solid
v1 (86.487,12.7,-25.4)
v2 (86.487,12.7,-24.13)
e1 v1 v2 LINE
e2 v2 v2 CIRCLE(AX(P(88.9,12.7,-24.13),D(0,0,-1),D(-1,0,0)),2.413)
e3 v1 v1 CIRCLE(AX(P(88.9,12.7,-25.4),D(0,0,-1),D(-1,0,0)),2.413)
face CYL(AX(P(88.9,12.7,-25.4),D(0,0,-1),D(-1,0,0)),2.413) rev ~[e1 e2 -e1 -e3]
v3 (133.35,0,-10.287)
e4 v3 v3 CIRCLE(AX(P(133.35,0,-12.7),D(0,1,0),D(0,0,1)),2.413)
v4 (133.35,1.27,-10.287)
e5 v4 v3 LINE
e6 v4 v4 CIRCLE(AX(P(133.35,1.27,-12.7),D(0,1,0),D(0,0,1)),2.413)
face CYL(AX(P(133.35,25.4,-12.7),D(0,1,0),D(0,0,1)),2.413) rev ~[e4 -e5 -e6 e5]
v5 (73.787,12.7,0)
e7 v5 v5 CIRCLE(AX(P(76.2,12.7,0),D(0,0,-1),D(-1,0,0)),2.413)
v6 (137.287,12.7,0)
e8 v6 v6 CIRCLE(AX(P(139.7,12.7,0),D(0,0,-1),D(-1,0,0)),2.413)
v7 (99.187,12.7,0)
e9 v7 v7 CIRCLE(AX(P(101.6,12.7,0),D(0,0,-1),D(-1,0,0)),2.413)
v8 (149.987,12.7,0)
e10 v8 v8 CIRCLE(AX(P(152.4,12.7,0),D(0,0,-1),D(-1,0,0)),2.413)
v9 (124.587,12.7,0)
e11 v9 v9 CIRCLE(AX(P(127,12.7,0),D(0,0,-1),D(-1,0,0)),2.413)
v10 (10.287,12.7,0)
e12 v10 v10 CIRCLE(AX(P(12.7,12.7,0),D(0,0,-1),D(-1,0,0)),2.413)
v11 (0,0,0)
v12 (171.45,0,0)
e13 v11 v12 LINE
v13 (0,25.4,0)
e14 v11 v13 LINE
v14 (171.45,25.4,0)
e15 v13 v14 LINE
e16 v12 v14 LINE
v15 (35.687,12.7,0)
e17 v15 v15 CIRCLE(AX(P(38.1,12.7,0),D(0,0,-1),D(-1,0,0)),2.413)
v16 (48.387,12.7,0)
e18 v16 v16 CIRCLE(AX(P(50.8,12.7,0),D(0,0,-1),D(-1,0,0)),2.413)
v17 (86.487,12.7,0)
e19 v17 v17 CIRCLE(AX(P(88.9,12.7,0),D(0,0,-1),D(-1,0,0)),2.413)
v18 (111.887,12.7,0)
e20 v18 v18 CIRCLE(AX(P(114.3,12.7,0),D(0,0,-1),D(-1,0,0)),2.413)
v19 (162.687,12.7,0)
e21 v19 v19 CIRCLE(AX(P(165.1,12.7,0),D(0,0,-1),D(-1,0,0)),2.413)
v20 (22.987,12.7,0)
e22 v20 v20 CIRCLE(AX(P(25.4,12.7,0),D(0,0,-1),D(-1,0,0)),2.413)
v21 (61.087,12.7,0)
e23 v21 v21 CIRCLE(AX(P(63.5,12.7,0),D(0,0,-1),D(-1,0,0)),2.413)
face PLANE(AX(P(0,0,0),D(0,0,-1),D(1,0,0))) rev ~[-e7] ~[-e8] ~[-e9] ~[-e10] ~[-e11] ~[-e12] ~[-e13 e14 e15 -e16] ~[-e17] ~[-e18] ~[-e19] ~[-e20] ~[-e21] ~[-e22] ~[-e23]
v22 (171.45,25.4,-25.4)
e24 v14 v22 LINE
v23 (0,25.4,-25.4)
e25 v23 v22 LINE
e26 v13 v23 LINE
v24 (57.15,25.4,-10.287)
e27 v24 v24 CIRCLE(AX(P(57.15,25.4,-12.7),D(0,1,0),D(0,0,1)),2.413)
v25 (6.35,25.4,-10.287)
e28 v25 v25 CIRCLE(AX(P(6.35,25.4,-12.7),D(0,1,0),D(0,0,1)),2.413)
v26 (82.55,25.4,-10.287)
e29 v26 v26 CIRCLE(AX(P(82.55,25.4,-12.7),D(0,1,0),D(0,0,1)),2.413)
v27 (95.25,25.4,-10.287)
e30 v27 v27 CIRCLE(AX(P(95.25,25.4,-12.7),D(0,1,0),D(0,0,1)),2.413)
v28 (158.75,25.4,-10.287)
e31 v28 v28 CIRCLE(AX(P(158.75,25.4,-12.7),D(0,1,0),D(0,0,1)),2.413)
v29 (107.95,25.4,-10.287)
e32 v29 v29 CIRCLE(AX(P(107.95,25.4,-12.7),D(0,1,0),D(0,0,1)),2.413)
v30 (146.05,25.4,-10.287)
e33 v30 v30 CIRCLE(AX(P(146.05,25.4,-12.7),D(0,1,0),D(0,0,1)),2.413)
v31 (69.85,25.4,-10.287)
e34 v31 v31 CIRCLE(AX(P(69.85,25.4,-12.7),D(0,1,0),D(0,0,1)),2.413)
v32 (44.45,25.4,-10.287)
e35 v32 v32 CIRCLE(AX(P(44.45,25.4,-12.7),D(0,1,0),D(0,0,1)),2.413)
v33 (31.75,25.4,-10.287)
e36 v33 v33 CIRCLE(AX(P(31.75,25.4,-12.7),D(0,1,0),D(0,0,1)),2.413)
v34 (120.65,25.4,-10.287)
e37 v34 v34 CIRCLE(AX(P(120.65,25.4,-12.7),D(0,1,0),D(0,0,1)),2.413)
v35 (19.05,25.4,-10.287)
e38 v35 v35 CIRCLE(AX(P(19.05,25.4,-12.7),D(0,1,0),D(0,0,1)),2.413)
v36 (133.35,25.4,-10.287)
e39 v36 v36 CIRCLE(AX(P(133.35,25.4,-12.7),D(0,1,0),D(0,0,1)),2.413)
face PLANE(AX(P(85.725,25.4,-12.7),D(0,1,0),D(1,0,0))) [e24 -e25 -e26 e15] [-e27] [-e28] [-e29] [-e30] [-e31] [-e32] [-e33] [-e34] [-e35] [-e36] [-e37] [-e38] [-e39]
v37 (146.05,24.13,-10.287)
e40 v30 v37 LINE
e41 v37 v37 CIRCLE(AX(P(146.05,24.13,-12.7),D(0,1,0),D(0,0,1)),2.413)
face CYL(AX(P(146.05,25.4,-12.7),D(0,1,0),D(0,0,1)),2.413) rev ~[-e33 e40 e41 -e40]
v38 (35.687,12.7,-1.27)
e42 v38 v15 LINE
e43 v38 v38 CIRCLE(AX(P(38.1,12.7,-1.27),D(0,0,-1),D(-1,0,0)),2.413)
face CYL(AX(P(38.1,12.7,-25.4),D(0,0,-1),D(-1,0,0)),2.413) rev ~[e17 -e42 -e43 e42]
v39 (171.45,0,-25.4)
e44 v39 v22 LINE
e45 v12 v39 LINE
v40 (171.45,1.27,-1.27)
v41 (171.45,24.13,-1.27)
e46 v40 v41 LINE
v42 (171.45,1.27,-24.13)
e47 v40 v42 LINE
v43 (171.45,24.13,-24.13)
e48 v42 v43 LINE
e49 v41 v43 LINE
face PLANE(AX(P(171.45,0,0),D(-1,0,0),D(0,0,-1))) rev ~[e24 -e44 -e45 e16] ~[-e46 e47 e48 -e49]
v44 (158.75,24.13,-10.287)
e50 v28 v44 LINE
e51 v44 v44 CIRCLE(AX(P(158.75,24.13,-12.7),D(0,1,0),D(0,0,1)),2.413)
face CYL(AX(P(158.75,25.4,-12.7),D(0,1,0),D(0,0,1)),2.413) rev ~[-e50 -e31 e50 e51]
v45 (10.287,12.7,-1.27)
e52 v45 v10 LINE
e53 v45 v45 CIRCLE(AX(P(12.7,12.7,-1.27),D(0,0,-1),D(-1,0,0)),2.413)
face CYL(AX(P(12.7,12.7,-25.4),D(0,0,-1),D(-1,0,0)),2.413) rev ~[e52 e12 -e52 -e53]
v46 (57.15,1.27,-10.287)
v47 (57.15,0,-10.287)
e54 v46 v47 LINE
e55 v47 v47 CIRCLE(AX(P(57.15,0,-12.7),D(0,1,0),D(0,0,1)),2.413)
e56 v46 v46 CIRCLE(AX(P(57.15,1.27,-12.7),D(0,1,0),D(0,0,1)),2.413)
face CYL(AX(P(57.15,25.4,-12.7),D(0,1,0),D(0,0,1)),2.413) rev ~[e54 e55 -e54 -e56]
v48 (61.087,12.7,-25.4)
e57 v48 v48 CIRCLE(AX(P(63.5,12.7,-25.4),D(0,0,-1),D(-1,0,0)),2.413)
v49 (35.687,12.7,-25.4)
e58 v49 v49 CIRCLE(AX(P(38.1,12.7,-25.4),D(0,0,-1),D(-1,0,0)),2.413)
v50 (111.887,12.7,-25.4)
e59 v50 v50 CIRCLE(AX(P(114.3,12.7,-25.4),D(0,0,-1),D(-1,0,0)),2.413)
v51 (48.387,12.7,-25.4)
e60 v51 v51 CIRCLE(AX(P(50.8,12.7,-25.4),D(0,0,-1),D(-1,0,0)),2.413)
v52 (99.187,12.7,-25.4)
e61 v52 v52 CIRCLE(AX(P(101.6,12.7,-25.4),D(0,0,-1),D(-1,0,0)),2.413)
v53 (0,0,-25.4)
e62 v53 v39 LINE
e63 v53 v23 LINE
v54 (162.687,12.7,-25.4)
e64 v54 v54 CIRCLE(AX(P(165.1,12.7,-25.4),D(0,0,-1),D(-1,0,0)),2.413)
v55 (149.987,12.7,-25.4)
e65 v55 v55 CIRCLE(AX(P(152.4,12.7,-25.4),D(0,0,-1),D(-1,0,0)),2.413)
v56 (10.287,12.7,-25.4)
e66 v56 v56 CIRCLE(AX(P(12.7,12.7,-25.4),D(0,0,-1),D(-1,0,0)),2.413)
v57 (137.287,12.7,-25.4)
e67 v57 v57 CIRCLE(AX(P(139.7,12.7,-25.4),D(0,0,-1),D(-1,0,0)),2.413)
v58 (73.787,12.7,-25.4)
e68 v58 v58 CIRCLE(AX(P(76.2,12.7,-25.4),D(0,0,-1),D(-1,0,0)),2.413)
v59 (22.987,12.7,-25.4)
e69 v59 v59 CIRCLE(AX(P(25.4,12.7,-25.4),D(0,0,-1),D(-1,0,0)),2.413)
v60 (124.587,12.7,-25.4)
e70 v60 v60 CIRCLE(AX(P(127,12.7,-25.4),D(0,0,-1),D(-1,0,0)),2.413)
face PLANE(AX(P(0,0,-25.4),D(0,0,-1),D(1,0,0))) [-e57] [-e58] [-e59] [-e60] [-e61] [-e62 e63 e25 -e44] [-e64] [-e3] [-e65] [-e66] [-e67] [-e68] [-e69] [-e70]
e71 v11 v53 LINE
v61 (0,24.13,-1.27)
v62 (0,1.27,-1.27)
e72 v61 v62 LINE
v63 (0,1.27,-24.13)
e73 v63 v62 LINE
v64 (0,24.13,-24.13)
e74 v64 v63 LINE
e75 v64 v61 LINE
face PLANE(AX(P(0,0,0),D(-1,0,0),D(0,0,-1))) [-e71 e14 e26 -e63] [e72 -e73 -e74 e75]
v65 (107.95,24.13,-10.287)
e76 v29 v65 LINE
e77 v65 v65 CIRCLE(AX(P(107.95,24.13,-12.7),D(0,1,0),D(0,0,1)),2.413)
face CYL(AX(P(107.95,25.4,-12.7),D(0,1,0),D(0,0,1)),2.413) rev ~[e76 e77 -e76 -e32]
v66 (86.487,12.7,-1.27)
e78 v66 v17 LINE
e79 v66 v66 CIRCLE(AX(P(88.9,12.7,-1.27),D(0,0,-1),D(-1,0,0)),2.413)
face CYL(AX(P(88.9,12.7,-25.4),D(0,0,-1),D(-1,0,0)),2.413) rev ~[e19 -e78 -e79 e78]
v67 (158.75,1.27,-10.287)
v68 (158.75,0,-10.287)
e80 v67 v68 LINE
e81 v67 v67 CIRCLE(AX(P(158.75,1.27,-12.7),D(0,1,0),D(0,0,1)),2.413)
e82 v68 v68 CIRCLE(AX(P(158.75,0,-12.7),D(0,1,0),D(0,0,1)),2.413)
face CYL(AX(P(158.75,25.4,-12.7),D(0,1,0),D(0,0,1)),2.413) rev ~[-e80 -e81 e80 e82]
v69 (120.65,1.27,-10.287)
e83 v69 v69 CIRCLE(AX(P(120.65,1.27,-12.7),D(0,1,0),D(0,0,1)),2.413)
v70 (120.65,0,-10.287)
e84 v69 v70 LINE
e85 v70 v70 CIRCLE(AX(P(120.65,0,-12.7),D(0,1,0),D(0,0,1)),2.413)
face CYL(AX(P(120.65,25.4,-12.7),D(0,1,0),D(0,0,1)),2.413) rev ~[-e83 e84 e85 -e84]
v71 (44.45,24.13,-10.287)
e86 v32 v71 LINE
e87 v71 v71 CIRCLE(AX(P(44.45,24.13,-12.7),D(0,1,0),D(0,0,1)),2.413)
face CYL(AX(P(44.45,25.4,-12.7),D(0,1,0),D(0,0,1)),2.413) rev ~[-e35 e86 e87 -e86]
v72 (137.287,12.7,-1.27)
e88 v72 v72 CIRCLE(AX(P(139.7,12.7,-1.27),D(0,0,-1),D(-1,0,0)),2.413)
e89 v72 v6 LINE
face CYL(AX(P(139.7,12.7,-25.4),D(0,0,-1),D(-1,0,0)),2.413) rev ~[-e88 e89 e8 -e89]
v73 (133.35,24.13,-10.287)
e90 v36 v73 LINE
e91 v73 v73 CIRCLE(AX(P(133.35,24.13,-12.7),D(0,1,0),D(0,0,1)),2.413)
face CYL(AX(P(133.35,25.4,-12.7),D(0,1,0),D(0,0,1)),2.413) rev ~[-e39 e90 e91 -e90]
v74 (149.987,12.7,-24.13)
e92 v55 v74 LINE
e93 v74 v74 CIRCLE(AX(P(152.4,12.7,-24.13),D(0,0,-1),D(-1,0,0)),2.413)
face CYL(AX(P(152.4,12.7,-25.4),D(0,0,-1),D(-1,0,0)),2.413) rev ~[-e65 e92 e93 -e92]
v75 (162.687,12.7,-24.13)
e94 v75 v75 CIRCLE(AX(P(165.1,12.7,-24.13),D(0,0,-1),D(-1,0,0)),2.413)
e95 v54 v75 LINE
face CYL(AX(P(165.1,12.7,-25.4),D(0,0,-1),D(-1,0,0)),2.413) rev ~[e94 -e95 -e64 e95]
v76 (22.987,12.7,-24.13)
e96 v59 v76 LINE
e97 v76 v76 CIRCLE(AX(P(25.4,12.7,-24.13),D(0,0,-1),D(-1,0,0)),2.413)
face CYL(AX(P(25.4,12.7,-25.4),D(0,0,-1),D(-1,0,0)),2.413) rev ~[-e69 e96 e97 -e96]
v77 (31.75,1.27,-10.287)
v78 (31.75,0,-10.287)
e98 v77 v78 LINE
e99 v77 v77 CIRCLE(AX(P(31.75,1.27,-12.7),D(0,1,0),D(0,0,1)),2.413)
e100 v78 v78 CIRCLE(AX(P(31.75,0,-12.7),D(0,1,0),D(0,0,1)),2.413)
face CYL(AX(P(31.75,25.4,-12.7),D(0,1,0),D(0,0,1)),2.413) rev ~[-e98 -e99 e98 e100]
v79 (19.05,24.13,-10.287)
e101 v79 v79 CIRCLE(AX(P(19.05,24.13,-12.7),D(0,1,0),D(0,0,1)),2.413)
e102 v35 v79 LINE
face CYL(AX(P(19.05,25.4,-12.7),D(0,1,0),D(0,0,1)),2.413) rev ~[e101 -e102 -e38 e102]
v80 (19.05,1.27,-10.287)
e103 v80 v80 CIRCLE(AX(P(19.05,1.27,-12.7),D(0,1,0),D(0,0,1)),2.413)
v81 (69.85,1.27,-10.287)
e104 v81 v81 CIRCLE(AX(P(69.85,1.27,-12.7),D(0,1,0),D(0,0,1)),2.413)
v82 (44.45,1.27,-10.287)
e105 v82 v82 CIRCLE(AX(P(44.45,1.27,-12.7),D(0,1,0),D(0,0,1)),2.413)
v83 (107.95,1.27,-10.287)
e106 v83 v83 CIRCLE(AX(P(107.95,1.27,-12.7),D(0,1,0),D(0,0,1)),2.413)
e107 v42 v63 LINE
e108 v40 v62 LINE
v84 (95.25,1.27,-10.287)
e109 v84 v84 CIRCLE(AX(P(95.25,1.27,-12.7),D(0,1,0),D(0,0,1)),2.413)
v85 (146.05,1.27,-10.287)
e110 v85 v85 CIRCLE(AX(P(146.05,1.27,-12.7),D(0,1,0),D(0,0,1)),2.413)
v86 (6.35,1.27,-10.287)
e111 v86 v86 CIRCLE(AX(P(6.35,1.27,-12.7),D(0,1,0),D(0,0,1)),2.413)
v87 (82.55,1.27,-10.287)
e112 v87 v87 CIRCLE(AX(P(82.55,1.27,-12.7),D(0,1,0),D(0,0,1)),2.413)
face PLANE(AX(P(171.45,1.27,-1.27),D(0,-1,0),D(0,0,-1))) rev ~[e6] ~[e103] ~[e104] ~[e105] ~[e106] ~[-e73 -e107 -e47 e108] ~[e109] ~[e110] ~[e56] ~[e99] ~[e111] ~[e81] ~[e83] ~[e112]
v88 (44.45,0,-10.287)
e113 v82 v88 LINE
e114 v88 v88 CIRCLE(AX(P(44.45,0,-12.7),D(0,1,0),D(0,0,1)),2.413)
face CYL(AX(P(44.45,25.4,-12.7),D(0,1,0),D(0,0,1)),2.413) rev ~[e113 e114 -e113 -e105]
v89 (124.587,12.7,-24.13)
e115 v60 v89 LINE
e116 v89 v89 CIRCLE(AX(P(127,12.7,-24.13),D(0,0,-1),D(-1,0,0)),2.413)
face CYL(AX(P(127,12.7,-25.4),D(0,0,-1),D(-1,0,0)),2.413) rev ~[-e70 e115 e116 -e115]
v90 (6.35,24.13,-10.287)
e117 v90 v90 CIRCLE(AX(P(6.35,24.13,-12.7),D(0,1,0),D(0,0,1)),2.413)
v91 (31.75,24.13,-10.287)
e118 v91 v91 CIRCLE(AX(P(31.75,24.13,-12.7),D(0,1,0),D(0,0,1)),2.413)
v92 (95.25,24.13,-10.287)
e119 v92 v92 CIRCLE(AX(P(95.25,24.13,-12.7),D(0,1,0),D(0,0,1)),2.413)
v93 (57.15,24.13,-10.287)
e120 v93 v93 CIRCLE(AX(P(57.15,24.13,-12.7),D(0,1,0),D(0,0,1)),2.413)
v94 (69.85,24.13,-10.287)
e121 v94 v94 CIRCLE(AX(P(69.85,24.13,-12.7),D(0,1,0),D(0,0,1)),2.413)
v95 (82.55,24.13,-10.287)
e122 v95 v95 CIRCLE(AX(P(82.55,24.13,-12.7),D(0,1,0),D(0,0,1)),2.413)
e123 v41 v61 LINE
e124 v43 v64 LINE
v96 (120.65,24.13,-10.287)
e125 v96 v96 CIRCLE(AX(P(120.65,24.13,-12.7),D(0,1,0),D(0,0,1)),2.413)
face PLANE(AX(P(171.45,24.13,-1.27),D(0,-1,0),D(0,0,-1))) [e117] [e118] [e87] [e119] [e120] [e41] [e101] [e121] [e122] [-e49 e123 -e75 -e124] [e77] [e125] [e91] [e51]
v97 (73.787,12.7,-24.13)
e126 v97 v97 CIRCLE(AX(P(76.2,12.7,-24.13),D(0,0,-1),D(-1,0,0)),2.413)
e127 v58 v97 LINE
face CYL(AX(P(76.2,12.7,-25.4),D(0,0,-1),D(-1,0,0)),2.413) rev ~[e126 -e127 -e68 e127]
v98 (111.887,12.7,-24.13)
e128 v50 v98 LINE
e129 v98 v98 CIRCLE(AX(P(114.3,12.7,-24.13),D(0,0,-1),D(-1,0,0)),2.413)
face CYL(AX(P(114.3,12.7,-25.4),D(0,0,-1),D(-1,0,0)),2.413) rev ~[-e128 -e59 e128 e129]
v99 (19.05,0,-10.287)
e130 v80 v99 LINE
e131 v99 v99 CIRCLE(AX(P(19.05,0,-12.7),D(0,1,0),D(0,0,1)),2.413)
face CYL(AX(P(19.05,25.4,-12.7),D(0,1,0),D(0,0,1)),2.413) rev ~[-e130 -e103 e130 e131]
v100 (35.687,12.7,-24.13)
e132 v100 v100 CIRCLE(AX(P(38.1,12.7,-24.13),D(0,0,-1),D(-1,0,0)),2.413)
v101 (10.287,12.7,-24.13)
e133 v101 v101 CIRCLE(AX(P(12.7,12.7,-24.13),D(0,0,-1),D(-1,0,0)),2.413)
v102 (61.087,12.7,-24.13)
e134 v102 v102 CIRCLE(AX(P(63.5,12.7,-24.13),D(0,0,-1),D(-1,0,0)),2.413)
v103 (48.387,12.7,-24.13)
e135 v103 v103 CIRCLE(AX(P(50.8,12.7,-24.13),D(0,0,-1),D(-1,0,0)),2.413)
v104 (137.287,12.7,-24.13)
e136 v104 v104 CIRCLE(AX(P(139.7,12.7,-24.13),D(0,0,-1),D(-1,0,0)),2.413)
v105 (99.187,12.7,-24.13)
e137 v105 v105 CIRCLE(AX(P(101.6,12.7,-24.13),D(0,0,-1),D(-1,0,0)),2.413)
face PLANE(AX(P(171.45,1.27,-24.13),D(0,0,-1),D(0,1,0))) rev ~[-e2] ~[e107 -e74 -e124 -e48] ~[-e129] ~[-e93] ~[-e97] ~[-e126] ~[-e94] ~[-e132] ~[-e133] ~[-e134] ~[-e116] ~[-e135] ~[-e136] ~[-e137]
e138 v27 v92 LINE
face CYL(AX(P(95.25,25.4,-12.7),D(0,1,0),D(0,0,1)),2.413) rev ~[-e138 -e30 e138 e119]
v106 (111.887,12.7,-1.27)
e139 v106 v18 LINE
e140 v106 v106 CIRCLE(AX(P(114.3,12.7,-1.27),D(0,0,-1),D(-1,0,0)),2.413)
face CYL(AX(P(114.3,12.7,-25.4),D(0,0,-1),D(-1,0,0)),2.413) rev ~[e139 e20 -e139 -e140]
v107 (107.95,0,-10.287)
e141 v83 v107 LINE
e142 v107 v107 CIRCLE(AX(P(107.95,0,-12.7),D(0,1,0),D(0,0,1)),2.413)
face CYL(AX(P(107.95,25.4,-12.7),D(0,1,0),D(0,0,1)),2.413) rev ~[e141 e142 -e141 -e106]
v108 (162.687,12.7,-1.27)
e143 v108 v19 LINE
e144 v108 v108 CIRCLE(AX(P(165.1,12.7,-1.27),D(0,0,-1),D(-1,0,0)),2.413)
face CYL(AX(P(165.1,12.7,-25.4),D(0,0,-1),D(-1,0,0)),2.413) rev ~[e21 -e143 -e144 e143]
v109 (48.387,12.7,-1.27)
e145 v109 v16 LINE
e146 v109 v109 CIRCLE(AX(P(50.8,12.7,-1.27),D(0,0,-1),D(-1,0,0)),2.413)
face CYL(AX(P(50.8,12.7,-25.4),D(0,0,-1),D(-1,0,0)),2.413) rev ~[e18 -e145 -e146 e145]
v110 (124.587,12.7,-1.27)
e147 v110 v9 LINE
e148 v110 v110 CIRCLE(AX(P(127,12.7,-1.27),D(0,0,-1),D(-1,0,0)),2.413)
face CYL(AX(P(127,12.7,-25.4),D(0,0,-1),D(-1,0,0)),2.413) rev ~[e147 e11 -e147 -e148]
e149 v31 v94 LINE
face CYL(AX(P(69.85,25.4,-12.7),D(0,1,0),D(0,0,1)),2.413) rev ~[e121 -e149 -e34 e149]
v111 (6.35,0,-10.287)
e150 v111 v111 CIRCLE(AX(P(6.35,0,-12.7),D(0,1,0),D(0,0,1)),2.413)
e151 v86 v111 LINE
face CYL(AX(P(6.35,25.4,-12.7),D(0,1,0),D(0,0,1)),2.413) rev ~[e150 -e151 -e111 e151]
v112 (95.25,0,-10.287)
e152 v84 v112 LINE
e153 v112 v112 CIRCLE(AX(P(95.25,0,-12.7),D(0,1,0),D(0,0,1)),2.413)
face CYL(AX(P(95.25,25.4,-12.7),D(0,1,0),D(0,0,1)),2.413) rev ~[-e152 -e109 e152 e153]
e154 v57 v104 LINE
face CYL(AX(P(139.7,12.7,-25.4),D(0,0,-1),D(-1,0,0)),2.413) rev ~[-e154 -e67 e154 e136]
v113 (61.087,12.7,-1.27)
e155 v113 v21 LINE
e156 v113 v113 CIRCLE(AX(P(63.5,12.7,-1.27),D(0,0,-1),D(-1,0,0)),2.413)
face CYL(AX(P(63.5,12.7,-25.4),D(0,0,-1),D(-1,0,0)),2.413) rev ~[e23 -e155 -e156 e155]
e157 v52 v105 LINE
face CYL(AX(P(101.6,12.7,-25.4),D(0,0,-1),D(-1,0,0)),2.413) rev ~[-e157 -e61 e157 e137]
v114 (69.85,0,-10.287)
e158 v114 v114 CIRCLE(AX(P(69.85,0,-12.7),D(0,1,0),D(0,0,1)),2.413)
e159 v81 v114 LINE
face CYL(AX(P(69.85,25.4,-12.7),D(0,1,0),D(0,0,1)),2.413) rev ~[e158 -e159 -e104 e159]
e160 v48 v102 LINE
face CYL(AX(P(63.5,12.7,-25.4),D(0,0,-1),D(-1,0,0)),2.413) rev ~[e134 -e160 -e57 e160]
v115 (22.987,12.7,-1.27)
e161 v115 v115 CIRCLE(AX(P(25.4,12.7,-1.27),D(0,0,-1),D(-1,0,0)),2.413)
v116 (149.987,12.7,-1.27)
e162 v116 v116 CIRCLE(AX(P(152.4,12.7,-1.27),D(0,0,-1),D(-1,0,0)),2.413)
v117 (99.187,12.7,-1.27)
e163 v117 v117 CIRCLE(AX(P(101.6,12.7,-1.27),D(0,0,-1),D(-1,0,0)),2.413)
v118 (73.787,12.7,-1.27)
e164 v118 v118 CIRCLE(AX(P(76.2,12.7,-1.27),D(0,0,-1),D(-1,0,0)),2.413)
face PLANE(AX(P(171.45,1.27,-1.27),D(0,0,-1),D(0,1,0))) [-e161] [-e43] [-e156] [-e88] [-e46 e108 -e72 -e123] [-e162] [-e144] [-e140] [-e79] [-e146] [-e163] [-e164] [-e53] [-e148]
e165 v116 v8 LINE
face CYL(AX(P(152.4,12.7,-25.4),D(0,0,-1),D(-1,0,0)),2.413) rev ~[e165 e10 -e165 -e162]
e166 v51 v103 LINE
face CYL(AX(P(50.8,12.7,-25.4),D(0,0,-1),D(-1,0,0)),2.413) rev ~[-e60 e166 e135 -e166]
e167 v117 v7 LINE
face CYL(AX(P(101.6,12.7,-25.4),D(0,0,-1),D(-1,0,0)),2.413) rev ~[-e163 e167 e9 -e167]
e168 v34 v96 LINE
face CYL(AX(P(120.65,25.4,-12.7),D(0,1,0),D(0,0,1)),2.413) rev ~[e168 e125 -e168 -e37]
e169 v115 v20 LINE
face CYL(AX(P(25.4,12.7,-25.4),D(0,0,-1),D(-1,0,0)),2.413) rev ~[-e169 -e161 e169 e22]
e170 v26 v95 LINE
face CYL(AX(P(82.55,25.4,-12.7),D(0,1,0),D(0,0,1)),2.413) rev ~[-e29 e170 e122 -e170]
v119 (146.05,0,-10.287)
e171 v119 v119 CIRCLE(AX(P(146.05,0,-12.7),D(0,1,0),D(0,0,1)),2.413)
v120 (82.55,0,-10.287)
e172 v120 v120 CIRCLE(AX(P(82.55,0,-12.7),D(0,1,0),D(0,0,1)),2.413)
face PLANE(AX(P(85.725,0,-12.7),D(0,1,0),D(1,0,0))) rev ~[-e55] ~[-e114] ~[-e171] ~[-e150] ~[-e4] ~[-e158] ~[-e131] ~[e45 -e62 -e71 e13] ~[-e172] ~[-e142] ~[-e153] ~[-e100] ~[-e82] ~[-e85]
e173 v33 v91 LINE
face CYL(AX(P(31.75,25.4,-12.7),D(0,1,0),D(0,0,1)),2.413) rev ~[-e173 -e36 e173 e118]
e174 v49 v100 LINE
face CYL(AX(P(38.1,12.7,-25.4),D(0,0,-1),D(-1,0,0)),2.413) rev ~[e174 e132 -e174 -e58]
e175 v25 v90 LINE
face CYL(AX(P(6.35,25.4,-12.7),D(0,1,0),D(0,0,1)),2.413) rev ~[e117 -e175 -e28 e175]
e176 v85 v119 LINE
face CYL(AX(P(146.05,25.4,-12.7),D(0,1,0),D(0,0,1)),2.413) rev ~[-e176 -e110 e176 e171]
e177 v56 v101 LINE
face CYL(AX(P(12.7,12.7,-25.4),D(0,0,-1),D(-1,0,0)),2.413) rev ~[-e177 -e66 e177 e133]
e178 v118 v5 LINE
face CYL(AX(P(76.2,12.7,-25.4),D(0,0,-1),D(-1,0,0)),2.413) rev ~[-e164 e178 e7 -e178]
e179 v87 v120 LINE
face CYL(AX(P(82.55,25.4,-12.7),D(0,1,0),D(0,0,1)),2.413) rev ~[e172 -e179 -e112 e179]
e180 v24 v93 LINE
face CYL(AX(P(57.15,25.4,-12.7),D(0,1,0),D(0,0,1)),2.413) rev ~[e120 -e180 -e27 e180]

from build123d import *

# Parameters (mm, degrees)
SKETCH1_W           = 171.45
SKETCH1_H           = 25.4
BOSS_EXTRUDE1_DEPTH = 25.4
SKETCH2_W           = 22.86
SKETCH2_H           = 22.86
CUT_EXTRUDE1_DEPTH  = 176.172550646
SKETCH4_R           = 2.413
CUT_EXTRUDE2_DEPTH  = 176.172550646
SKETCH3_R           = 2.413
CUT_EXTRUDE3_DEPTH  = 176.172550646


with BuildPart() as part:
    # Sketch1 → Boss-Extrude1 (new body)
    with BuildSketch(Plane(origin=(0, 0, 0), x_dir=(1, 0, 0), z_dir=(0, 1, 0))):
        with Locations((85.725, 12.7)):
            Rectangle(SKETCH1_W, SKETCH1_H)
    extrude(amount=BOSS_EXTRUDE1_DEPTH)

    # Sketch2 → Cut-Extrude1 (cut, through all)
    with BuildSketch(Plane(origin=(171.45, 0, 0), x_dir=(0, 0, -1), z_dir=(1, 0, 0))):
        with Locations((12.7, 12.7)):
            Rectangle(SKETCH2_W, SKETCH2_H)
    extrude(amount=-CUT_EXTRUDE1_DEPTH, mode=Mode.SUBTRACT)

    # Sketch4 → Cut-Extrude2 (cut, through all)
    with BuildSketch(Plane(origin=(0, 0, -25.4), x_dir=(-1, 0, 0), z_dir=(0, 0, -1))):
        with Locations((-165.1, 12.7)):
            Circle(SKETCH4_R)
        with Locations((-152.4, 12.7)):
            Circle(SKETCH4_R)
        with Locations((-139.7, 12.7)):
            Circle(SKETCH4_R)
        with Locations((-127, 12.7)):
            Circle(SKETCH4_R)
        with Locations((-114.3, 12.7)):
            Circle(SKETCH4_R)
        with Locations((-101.6, 12.7)):
            Circle(SKETCH4_R)
        with Locations((-88.9, 12.7)):
            Circle(SKETCH4_R)
        with Locations((-76.2, 12.7)):
            Circle(SKETCH4_R)
        with Locations((-63.5, 12.7)):
            Circle(SKETCH4_R)
        with Locations((-50.8, 12.7)):
            Circle(SKETCH4_R)
        with Locations((-38.1, 12.7)):
            Circle(SKETCH4_R)
        with Locations((-25.4, 12.7)):
            Circle(SKETCH4_R)
        with Locations((-12.7, 12.7)):
            Circle(SKETCH4_R)
    extrude(amount=-CUT_EXTRUDE2_DEPTH, mode=Mode.SUBTRACT)

    # Sketch3 → Cut-Extrude3 (cut, through all)
    with BuildSketch(Plane(origin=(0, 25.4, 0), x_dir=(1, 0, 0), z_dir=(0, 1, 0))):
        with Locations(Location((6.35, 12.7, 0), (0, 0, 270))):
            Circle(SKETCH3_R)
        with Locations(Location((19.05, 12.7, 0), (0, 0, 270))):
            Circle(SKETCH3_R)
        with Locations(Location((31.75, 12.7, 0), (0, 0, 270))):
            Circle(SKETCH3_R)
        with Locations(Location((44.45, 12.7, 0), (0, 0, 270))):
            Circle(SKETCH3_R)
        with Locations(Location((57.15, 12.7, 0), (0, 0, 270))):
            Circle(SKETCH3_R)
        with Locations(Location((69.85, 12.7, 0), (0, 0, 270))):
            Circle(SKETCH3_R)
        with Locations(Location((82.55, 12.7, 0), (0, 0, 270))):
            Circle(SKETCH3_R)
        with Locations(Location((95.25, 12.7, 0), (0, 0, 270))):
            Circle(SKETCH3_R)
        with Locations(Location((107.95, 12.7, 0), (0, 0, 270))):
            Circle(SKETCH3_R)
        with Locations(Location((120.65, 12.7, 0), (0, 0, 270))):
            Circle(SKETCH3_R)
        with Locations(Location((133.35, 12.7, 0), (0, 0, 270))):
            Circle(SKETCH3_R)
        with Locations(Location((146.05, 12.7, 0), (0, 0, 270))):
            Circle(SKETCH3_R)
        with Locations(Location((158.75, 12.7, 0), (0, 0, 270))):
            Circle(SKETCH3_R)
    extrude(amount=-CUT_EXTRUDE3_DEPTH, mode=Mode.SUBTRACT)


solid = part.part
